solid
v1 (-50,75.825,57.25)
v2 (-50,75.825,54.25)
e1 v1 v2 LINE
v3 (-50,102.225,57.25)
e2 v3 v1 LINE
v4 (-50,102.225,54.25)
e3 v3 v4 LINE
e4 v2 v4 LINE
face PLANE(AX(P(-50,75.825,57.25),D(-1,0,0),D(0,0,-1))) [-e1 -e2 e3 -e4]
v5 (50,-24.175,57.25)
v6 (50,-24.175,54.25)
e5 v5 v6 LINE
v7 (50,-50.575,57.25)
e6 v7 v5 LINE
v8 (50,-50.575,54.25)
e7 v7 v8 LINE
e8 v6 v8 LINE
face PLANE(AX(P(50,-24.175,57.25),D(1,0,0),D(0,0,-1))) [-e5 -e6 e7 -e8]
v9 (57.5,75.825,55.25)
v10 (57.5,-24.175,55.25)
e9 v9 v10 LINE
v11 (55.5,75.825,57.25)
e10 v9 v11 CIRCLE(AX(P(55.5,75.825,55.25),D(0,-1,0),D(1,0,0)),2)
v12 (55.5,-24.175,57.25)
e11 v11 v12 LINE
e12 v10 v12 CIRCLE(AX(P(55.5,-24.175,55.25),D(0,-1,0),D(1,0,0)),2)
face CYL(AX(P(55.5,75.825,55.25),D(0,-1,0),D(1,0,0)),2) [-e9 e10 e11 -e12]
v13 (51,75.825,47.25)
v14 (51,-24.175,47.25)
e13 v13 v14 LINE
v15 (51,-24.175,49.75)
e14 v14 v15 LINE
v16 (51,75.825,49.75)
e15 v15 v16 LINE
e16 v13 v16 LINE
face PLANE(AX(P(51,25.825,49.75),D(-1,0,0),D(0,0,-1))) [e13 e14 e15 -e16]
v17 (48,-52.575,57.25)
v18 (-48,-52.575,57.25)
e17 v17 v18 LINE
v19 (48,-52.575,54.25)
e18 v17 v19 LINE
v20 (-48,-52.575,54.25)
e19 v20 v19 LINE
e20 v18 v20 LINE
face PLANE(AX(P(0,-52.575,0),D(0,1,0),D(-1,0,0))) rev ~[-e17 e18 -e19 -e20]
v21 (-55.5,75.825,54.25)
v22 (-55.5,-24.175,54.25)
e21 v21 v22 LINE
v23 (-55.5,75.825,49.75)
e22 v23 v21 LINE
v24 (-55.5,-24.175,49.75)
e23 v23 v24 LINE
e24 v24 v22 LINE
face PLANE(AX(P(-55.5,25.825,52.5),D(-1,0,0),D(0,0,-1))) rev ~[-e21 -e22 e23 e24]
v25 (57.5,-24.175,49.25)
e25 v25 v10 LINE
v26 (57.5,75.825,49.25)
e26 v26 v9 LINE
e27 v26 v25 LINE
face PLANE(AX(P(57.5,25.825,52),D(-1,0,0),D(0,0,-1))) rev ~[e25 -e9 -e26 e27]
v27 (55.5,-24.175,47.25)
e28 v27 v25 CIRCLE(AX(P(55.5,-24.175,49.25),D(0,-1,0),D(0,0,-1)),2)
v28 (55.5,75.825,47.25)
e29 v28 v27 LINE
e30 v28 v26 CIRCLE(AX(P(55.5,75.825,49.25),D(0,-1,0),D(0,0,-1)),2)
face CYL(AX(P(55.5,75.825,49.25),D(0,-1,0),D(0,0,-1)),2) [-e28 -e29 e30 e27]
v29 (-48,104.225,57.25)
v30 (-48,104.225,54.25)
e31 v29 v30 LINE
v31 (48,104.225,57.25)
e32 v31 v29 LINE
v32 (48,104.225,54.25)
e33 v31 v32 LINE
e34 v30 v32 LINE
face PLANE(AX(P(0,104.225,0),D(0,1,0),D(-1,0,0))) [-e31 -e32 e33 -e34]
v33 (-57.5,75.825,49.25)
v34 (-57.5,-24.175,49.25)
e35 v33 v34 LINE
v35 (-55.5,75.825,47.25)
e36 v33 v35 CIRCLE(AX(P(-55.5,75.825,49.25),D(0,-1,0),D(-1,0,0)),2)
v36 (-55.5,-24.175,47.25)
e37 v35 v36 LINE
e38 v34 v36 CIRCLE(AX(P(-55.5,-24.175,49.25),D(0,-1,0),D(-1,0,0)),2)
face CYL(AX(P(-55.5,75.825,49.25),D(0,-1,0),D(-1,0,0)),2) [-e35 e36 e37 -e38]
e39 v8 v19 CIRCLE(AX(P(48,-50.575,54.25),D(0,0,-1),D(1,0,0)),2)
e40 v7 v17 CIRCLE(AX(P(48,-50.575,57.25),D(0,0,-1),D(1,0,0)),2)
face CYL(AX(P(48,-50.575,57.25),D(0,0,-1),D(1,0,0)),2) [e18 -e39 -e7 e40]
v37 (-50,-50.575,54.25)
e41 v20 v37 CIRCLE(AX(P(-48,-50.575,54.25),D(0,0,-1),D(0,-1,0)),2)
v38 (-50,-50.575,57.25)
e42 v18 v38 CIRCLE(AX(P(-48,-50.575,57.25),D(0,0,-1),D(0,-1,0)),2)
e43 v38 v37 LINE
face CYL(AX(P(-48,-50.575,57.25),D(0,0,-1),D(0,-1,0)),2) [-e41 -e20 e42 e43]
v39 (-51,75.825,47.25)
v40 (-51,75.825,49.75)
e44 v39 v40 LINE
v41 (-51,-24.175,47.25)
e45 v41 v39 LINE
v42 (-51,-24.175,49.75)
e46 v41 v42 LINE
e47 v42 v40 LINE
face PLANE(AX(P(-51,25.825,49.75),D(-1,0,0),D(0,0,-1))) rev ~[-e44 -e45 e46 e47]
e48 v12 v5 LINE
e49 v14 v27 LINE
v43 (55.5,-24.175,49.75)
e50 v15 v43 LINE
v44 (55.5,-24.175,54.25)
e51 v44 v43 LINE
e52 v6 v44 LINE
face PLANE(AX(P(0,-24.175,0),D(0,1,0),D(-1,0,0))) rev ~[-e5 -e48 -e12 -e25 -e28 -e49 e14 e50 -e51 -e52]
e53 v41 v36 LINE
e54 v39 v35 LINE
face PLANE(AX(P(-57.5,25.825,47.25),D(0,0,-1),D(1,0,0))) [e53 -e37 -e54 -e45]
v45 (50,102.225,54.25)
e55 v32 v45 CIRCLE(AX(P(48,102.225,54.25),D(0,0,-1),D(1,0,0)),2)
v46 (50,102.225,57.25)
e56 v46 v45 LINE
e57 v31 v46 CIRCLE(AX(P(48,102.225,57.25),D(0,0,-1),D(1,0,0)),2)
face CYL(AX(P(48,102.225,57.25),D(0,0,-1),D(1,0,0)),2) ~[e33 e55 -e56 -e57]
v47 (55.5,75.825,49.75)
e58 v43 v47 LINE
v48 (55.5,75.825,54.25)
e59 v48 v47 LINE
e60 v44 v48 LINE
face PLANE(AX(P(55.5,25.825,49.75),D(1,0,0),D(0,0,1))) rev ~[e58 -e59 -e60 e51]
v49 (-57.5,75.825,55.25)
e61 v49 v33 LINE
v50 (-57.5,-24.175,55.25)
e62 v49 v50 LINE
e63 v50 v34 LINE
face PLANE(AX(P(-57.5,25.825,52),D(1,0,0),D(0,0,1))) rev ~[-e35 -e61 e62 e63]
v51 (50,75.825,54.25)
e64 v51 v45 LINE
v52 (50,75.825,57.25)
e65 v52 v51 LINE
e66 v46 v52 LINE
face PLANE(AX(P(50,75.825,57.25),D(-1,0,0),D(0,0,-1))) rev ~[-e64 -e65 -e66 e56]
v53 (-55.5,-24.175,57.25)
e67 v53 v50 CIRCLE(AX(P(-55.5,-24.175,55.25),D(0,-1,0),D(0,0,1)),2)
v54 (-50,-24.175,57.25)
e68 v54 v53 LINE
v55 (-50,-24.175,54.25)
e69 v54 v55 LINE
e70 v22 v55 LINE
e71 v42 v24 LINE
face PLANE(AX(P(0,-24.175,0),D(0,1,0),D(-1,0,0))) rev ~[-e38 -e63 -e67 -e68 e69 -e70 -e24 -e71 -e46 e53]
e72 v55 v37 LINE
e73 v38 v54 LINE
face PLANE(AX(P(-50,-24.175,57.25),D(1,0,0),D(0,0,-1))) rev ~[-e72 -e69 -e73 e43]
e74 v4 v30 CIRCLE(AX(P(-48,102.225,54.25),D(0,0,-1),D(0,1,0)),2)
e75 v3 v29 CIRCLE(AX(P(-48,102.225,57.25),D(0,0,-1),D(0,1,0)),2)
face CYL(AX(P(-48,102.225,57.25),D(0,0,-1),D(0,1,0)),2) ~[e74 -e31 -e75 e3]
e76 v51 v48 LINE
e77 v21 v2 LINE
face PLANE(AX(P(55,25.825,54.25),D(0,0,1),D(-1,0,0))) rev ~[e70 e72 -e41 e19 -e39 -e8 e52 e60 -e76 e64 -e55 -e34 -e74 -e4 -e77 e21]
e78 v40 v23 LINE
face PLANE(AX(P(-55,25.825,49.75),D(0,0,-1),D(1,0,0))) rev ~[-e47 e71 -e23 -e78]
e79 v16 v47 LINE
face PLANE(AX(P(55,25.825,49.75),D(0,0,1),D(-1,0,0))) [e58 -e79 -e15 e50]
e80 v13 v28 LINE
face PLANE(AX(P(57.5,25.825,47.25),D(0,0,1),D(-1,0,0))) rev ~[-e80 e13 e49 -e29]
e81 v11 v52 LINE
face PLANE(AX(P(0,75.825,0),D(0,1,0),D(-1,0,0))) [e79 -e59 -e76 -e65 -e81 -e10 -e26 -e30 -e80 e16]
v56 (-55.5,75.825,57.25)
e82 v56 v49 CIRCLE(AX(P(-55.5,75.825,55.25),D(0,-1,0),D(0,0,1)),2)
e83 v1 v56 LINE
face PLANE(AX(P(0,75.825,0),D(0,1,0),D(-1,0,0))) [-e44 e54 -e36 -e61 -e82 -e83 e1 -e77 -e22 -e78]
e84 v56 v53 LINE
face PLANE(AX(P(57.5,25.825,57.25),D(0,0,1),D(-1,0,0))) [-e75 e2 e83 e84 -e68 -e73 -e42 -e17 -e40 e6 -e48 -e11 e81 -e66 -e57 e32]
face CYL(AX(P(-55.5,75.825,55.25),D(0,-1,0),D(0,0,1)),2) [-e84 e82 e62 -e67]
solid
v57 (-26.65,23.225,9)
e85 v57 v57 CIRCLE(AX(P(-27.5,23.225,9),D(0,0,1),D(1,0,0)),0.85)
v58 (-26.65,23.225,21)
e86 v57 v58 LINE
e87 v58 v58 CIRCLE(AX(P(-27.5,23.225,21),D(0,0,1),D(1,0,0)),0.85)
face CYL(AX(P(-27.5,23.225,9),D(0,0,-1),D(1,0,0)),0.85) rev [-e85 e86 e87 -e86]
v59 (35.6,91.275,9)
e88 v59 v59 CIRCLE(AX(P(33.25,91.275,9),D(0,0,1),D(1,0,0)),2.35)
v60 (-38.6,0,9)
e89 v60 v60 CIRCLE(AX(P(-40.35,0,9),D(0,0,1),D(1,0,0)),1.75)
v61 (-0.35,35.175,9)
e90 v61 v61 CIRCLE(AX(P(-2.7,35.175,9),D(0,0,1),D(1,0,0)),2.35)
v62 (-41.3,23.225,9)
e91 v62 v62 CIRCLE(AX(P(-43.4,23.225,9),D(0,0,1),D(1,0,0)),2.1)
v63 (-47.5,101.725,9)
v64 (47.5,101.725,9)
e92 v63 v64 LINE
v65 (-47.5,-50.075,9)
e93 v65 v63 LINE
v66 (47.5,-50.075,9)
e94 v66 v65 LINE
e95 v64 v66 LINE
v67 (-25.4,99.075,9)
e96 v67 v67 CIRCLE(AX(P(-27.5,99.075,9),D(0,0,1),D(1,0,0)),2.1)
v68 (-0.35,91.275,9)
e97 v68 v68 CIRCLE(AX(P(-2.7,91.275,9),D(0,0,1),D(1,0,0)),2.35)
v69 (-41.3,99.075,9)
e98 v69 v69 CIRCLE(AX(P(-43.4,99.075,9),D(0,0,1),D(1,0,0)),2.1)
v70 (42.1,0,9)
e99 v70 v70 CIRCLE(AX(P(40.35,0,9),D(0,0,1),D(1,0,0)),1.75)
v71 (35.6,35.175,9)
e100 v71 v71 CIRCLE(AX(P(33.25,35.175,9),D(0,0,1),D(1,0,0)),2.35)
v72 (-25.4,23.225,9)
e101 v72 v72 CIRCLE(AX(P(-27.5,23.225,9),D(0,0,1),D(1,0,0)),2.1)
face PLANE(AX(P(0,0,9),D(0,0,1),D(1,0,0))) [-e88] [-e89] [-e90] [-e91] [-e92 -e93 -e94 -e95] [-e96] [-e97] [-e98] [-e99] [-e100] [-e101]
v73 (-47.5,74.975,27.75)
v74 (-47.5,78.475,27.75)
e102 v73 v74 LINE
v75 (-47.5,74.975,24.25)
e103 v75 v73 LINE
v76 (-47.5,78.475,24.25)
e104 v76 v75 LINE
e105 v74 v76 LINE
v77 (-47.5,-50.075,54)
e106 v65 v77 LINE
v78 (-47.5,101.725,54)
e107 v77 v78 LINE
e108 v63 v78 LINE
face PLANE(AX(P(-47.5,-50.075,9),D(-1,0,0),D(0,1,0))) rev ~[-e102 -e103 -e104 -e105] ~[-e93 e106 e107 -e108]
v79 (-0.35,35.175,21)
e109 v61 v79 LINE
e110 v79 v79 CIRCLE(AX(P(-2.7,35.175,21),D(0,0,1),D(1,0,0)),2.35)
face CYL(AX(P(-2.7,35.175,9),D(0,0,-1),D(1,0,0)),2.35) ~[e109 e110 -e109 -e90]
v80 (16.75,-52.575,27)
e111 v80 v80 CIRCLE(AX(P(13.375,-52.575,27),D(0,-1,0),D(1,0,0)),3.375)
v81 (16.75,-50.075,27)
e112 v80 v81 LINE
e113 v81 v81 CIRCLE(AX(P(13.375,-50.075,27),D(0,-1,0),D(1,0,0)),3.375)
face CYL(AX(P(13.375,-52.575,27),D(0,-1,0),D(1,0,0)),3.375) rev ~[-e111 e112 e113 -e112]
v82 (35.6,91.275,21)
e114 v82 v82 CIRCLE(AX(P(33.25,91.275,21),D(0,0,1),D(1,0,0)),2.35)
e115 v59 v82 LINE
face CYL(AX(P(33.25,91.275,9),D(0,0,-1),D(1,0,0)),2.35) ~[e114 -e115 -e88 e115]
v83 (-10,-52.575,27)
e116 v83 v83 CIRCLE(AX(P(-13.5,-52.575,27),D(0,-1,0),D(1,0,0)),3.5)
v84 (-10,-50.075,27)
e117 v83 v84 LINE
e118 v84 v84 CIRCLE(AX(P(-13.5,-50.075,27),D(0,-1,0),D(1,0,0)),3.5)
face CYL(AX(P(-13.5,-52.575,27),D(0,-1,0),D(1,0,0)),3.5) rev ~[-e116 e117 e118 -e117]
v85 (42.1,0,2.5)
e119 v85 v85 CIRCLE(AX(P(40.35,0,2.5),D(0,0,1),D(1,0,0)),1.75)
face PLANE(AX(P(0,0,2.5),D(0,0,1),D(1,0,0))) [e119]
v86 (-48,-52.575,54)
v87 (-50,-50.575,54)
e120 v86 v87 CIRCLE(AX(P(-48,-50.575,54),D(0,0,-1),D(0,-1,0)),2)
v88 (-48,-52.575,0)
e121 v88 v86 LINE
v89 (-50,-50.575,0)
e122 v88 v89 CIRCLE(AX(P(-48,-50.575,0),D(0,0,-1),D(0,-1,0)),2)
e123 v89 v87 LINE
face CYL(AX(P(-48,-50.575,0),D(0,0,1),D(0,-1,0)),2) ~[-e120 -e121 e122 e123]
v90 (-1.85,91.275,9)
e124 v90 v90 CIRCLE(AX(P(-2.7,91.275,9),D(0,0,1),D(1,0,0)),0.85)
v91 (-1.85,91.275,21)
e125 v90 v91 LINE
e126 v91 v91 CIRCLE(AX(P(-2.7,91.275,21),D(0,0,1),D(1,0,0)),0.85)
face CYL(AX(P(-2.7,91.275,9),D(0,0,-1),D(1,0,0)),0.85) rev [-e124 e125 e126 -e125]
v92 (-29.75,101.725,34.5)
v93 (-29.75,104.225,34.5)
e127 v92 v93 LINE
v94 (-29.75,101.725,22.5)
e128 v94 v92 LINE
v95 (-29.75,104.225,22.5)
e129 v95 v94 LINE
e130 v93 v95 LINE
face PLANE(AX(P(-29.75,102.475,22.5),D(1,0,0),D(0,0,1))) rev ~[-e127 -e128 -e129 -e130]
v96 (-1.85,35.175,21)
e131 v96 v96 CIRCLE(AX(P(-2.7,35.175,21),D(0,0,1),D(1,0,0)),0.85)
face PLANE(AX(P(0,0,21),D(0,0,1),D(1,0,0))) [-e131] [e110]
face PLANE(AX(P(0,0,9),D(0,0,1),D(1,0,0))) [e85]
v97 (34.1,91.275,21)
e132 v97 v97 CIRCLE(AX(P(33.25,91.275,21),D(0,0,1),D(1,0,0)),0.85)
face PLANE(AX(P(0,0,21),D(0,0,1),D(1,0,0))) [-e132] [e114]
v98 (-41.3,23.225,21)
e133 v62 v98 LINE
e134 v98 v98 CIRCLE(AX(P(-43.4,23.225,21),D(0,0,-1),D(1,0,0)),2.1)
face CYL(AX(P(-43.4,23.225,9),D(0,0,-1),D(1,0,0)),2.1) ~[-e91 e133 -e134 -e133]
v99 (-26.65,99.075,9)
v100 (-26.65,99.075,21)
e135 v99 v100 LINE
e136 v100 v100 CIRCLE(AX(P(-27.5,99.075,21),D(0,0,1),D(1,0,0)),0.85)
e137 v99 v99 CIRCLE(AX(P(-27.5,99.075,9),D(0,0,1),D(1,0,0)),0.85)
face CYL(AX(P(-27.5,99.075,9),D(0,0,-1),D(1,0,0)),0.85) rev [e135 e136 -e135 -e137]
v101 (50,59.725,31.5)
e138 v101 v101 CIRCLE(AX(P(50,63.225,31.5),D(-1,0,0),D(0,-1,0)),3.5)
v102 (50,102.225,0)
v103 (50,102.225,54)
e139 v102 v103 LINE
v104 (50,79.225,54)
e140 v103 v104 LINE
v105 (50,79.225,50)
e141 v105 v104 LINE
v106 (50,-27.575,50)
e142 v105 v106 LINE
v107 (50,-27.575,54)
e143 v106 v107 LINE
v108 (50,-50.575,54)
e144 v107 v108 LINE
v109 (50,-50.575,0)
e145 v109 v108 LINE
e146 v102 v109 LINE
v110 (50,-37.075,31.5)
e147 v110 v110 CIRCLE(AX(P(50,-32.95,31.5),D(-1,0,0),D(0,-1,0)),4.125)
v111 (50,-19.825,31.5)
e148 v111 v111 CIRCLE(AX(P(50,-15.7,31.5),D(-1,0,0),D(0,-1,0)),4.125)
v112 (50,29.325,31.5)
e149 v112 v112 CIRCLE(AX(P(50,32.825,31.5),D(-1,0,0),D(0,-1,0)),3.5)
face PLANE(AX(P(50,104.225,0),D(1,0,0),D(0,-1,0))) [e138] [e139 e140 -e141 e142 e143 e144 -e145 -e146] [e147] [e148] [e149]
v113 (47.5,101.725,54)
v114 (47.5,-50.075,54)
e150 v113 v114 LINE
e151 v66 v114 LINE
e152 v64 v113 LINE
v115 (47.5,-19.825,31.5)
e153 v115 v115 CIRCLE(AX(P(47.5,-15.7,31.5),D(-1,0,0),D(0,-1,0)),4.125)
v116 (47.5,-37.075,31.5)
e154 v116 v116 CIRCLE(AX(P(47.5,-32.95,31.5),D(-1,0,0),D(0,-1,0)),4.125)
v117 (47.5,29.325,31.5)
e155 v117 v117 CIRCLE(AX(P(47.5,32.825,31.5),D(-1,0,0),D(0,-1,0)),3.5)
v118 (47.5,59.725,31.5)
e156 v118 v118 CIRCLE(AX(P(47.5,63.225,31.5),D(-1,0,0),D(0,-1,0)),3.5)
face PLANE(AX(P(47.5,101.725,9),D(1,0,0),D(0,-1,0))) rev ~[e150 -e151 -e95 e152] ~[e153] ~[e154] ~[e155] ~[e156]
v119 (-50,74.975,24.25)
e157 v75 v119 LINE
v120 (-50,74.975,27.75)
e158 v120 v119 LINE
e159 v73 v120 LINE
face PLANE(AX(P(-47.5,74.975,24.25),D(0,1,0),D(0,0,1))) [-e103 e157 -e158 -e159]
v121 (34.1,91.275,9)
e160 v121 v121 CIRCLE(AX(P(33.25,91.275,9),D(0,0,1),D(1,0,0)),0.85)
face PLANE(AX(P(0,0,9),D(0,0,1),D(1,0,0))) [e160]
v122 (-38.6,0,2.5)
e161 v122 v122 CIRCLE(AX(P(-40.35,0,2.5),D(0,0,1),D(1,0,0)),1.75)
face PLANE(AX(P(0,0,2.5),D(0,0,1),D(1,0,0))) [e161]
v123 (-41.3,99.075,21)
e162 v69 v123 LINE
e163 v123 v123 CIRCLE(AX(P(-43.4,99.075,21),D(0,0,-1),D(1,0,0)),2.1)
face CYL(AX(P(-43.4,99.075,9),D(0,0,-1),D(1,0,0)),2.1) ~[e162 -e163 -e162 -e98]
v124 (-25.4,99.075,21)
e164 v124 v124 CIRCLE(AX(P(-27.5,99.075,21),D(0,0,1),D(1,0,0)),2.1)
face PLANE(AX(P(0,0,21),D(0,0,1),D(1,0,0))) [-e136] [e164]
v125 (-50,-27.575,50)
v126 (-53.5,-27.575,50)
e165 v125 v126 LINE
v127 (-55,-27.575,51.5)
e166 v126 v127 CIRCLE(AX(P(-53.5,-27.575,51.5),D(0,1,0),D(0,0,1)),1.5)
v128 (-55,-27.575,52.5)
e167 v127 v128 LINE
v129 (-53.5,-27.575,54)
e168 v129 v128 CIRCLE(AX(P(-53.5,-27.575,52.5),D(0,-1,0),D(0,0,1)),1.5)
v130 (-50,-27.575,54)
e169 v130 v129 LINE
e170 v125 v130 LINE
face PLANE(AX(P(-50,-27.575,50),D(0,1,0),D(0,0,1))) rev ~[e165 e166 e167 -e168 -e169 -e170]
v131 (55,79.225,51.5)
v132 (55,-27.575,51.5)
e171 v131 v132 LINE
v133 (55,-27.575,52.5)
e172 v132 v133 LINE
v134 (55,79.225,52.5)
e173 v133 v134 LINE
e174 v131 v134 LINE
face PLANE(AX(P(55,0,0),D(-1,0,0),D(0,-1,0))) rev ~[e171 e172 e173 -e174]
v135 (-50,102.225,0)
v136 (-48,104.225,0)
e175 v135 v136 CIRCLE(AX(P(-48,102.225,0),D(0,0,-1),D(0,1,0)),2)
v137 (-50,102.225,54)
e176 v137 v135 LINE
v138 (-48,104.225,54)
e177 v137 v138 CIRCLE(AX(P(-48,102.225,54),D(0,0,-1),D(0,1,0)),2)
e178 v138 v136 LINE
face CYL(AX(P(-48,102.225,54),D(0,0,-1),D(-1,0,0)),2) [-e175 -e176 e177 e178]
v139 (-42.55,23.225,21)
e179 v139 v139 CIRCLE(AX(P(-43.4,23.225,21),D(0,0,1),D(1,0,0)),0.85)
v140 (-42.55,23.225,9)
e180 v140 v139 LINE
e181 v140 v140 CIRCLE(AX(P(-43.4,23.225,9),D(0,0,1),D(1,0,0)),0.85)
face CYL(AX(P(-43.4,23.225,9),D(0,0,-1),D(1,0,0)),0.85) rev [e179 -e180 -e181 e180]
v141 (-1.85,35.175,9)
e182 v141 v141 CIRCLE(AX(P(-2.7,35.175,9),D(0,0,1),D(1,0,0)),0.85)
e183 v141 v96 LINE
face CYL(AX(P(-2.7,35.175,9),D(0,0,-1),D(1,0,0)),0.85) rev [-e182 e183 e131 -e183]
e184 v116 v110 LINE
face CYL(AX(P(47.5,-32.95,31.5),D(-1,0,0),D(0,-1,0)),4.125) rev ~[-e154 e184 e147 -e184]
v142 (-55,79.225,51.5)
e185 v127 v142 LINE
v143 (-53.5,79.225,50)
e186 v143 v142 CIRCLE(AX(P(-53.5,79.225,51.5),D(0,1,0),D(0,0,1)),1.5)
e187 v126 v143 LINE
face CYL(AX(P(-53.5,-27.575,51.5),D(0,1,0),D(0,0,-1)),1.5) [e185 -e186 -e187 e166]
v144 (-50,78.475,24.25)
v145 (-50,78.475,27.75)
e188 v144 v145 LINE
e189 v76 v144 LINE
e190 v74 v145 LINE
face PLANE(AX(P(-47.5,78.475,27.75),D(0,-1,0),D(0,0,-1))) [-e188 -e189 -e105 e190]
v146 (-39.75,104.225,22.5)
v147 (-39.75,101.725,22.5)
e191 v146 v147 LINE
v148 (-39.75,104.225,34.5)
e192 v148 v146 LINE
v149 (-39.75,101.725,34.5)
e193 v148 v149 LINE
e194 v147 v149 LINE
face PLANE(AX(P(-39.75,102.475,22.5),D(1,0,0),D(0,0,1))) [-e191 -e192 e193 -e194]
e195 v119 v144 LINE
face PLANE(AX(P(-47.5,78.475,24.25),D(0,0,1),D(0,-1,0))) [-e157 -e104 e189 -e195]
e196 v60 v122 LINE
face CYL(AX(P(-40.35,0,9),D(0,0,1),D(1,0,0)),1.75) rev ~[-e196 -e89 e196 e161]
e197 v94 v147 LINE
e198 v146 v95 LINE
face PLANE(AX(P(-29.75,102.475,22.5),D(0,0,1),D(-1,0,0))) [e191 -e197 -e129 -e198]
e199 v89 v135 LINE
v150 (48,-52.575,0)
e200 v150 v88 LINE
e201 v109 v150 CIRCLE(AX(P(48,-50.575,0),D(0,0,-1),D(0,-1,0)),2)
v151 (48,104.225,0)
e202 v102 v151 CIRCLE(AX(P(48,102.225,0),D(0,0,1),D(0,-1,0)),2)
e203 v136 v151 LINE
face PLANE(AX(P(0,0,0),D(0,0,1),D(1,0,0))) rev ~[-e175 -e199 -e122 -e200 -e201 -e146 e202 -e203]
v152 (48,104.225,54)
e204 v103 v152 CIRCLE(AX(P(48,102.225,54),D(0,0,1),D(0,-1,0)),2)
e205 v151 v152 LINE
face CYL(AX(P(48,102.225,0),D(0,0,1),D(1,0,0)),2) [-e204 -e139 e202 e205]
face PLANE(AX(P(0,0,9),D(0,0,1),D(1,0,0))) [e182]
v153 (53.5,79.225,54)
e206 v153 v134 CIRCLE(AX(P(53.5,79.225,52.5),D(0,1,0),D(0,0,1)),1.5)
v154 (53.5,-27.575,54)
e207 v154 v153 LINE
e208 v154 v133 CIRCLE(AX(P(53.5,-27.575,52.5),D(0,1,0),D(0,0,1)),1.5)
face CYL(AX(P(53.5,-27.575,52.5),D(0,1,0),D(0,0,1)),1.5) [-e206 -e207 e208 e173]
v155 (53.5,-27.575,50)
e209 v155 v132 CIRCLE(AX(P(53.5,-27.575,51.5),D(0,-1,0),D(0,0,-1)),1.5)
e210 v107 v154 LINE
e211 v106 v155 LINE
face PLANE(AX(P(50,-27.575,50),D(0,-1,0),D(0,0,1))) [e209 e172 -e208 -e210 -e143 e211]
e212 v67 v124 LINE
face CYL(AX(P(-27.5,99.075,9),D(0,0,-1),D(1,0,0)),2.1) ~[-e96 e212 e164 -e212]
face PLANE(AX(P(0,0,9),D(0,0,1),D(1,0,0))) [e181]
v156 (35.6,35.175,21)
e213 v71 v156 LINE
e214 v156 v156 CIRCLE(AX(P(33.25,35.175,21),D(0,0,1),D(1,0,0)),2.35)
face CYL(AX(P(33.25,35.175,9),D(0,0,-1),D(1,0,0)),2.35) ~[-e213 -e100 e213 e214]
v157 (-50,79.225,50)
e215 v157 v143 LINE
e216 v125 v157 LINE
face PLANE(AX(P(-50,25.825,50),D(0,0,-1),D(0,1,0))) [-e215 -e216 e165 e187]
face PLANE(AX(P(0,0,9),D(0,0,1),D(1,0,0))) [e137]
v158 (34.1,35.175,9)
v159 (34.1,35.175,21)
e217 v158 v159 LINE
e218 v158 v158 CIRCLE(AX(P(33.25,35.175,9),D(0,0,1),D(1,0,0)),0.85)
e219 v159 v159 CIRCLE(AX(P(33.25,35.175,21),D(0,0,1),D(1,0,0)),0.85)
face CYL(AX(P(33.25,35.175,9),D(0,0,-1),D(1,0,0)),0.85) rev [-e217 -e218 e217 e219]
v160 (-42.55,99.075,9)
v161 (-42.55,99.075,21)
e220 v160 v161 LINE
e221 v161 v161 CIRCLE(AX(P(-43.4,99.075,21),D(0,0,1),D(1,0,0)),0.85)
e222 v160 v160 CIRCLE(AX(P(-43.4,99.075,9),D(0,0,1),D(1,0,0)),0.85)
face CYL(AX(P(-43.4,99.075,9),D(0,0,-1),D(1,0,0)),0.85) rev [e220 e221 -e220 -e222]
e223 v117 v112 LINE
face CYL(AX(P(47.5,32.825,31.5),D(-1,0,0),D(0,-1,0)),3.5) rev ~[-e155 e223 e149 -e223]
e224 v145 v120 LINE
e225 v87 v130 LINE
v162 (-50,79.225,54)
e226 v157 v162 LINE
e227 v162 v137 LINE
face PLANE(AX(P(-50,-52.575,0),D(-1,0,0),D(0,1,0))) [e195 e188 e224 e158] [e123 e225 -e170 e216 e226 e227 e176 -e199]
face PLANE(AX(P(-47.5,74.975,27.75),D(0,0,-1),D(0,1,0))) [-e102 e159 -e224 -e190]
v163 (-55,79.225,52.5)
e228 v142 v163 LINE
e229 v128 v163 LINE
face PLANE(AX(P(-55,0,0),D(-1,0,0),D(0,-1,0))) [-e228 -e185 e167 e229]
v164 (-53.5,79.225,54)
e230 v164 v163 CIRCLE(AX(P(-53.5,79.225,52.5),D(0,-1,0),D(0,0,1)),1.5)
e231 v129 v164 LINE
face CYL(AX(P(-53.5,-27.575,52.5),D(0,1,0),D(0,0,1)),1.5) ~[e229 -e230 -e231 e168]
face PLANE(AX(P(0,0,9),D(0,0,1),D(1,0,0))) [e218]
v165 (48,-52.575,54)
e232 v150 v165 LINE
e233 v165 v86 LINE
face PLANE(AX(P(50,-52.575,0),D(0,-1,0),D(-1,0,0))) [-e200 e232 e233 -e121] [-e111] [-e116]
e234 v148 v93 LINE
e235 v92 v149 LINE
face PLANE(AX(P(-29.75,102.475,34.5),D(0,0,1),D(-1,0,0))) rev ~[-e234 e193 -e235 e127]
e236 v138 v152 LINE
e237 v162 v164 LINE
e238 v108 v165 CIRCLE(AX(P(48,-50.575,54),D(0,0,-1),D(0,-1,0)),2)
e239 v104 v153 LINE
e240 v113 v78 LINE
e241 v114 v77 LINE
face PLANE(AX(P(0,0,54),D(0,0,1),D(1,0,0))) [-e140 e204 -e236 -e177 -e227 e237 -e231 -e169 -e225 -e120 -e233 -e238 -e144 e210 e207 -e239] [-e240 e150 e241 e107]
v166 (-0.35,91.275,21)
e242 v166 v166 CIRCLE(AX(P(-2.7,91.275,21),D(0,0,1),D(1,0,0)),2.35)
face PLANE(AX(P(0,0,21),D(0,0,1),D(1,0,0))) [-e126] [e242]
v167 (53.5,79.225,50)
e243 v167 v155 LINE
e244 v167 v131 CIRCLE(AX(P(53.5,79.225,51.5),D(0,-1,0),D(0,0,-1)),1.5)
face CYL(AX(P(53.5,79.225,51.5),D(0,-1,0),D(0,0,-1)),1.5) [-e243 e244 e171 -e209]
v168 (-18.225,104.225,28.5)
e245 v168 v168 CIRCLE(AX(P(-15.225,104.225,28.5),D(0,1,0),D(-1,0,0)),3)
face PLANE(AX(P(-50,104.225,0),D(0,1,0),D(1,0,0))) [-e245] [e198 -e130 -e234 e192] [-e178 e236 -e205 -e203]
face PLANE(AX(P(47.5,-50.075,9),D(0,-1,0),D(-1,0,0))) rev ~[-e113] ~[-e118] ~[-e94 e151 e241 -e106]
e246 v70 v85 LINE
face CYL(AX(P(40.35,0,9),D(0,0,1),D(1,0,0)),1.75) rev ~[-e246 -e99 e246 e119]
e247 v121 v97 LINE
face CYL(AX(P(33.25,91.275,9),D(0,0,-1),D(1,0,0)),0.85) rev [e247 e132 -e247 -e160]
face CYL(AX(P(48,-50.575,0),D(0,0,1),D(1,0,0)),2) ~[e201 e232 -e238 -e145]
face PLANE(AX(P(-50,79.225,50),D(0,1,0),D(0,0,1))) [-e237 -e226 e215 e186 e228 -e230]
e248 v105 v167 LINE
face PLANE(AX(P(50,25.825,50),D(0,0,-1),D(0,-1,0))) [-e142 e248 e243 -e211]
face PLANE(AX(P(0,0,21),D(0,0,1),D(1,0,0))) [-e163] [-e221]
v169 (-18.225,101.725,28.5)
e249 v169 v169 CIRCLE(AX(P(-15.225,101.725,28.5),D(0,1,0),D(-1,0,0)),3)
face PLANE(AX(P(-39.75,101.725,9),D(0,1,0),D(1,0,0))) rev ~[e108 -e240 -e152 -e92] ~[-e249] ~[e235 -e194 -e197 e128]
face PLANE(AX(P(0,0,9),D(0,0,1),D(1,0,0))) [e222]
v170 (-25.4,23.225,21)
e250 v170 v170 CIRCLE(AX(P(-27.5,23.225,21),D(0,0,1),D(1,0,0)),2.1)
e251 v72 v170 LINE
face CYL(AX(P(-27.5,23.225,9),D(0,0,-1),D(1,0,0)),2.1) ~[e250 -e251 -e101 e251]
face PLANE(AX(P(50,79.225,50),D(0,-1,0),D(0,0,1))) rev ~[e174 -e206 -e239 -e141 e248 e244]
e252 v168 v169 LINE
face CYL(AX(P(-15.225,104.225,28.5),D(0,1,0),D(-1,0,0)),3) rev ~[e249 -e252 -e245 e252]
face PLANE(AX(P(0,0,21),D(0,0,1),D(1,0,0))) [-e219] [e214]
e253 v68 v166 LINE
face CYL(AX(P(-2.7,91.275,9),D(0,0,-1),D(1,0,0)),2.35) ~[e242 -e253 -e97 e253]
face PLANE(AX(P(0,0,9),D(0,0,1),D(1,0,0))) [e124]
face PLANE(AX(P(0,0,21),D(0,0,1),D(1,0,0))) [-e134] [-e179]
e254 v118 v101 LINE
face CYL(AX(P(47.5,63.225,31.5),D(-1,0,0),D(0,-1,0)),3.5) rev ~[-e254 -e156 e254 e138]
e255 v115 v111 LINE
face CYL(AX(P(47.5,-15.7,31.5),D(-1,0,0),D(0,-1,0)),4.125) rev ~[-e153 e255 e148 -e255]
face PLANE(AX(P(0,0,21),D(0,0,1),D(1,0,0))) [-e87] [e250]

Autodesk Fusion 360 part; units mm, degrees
sketch "top" plane through (0, 0, 0) normal (0, 0, 1) x (1, 0, 0)
  line L0 (45.5, -15.075) -> (-45.5, -15.075) construction
  line L1 (-45.5, -15.075) -> (-45.5, 15.075) construction
  line L2 (-45.5, 15.075) -> (45.5, 15.075) construction
  line L3 (45.5, 15.075) -> (45.5, -15.075) construction
  line L4 (45.5, -15.075) -> (-45.5, 15.075) construction
  line L5 (-45.5, -15.075) -> (45.5, 15.075) construction
  line L6 (0, 15.075) -> (0, -15.075) construction
  line L7 (-45.5, 0) -> (45.5, 0) construction
  circle A0 centre (-40.35, 0) radius 2.1 construction
  line L8 (-35.35, 15.075) -> (-35.35, -15.075) construction
  circle A1 centre (40.35, 0) radius 2.1 construction
  line L9 (35.35, 15.075) -> (35.35, -15.075) construction
  line L10 (35.35, 33.075) -> (-4.8, 33.075) construction
  line L11 (-4.8, 33.075) -> (-4.8, 93.375) construction
  line L12 (-4.8, 93.375) -> (35.35, 93.375) construction
  line L13 (35.35, 93.375) -> (35.35, 33.075) construction
  line L14 (-45.5, 21.075) -> (-25.4, 21.075)
  line L15 (-25.4, 21.075) -> (-25.4, 101.225)
  line L16 (-25.4, 101.225) -> (-45.5, 101.225)
  line L17 (-45.5, 101.225) -> (-45.5, 21.075)
  line L18 (-4.8, 63.225) -> (35.35, 63.225) construction
  line L19 (15.275, 93.375) -> (15.275, 33.075) construction
  line L20 (-45.5, 61.15) -> (-25.4, 61.15) construction
  line L21 (-35.45, 101.225) -> (-35.45, 21.075) construction
  circle A2 centre (33.25, 35.175) radius 0.85
  circle A3 centre (33.25, 35.175) radius 2.35
  circle A4 centre (33.25, 91.275) radius 0.85
  circle A5 centre (33.25, 91.275) radius 2.35
  circle A6 centre (-2.7, 35.175) radius 0.85
  circle A7 centre (-2.7, 35.175) radius 2.35
  circle A8 centre (-2.7, 91.275) radius 2.35
  circle A9 centre (-2.7, 91.275) radius 0.85
  circle A10 centre (-27.5, 23.225) radius 0.85
  circle A11 centre (-27.5, 23.225) radius 2.1
  circle A12 centre (-27.5, 99.075) radius 0.85
  circle A13 centre (-27.5, 99.075) radius 2.1
  circle A14 centre (-43.4, 23.225) radius 0.85
  circle A15 centre (-43.4, 23.225) radius 2.1
  circle A16 centre (-43.4, 99.075) radius 0.85
  circle A17 centre (-43.4, 99.075) radius 2.1
  line L22 (-47.5, 101.725) -> (47.5, 101.725)
  line L23 (47.5, 101.725) -> (47.5, -50.075)
  line L24 (47.5, -50.075) -> (-47.5, -50.075)
  line L25 (-47.5, -50.075) -> (-47.5, 101.725)
  line L26 (-39.75, 101.225) -> (-29.75, 101.225)
  line L27 (-29.75, 101.225) -> (-29.75, 102.475)
  line L28 (-29.75, 102.475) -> (-39.75, 102.475)
  line L29 (-39.75, 102.475) -> (-39.75, 101.225)
  line L30 (-34.75, 102.475) -> (-34.75, 101.225) construction
  circle A18 centre (-40.35, 0) radius 1.75
  circle A19 centre (40.35, 0) radius 1.75
  line L31 (-50, -52.575) -> (-50, 104.225)
  line L32 (-50, 104.225) -> (50, 104.225)
  line L33 (50, 104.225) -> (50, -52.575)
  line L34 (50, -52.575) -> (-50, -52.575)
  circle A20 centre (-42.5, 76.725) radius 2.5
  dimension "d1" = 91
  dimension "d2" = 30.15
  dimension "d3" = 4.2
  dimension "d4" = 10.15
  dimension "d5" = 3.05
  dimension "d6" = 40.15
  dimension "d7" = 60.3
  dimension "d8" = 18
  dimension "d9" = 20.1
  dimension "d10" = 80.15
  dimension "d11" = 6
  dimension "d12" = 1.7
  dimension "d13" = 1.25
  dimension "d14" = 1.25
  dimension "d15" = 1.5
  dimension "d16" = 1.7
  dimension "d17" = 1.25
  dimension "d18" = 1.3
  dimension "d19" = 1.25
  dimension "d20" = 2
  dimension "d21" = 1.25
  dimension "d22" = 10
  dimension "d23" = 0.5
  dimension "d24" = 2
  dimension "d25" = 35
  dimension "d35" = -0.35
  dimension "d39" = -2.5
  dimension "d43" = 4.35
  dimension "d61" = 5
  dimension "d62" = 22
  dimension "d63" = 0.5
extrude "Extrude1" add sketch "top" along normal blind 9 contours A11 | A13 | A17 | A15 | L14 L15 L16 L17 L26 | L14 L15 L16 L17 L22 L23 L24 L25 L27 L29 | L16 L22 L26 L27 L29 | L22 L27 L28 L29 | A2 | A3 | A4 | A5 | A6 | A7 | A8 | A9 | A10 | A12 | A14 | A16 | A18 | A19 | L31 L32 L33 L34 | A20 makes body 1
extrude "Extrude2" add sketch "top" along normal blind 12 from surface at 9 contours A11 | A13 | A17 | A15 | A3 | A5 | A7 | A8 bodies 1
extrude "Extrude4" cut sketch "top" against normal blind 6.5 from surface at 9 contours A18 | A19 bodies 1
extrude "Extrude5" add sketch "top" along normal blind 45 from surface at 9 contours L22 L27 L28 L29 | L31 L32 L33 L34 bodies 1
sketch "outputs" plane through (47.5, 0, 0) normal (-1, 0, 0) x (0, -1, 0)
  line L0 (-101.725, 9) -> (50.075, 9)
  line L1 (50.075, 9) -> (50.075, 54)
  line L2 (50.075, 54) -> (-101.725, 54)
  line L3 (-101.725, 54) -> (-101.725, 9)
  line L4 (-32.825, 21) -> (-37.525, 21)
  line L5 (-88.925, 21) -> (-93.625, 21)
  line L6 (-93.625, 21) -> (-93.625, 54) construction
  line L7 (-32.825, 21) -> (-32.825, 54) construction
  line L8 (-93.625, 54) -> (-32.825, 54) construction
  line L9 (-88.925, 21) -> (-37.525, 21) construction
  line L10 (-63.225, 21) -> (-63.225, 54) construction
  circle A0 centre (-63.225, 31.5) radius 3.5
  circle A1 centre (-32.825, 31.5) radius 3.5
  line L11 (50.075, 31.5) -> (-32.825, 31.5) construction
  line L12 (25.825, 24.9389) -> (25.825, 54) construction
  circle A2 centre (32.95, 31.5) radius 4.125
  circle A3 centre (15.7, 31.5) radius 4.125
  line L13 (-32.825, 31.5) -> (-63.225, 31.5) construction
  dimension "d44" = 7
  dimension "d45" = 7
  dimension "d46" = 8.25
  dimension "d47" = 8.25
  dimension "d48" = 6
  dimension "d49" = 3
  dimension "d50" = 13
extrude "Extrude6" cut sketch "outputs" against normal blind 4 contours A0 | A1 | A2 | A3 bodies 1
extrude "Extrude7" add sketch "top" along normal blind 1.5 from surface at 21 separate body contours A11 | A13 | A17 | A15 | L14 L15 L16 L17 L26 | A10 | A12 | A14 | A16 | A20 makes body 2
extrude "Extrude8" add sketch "top" along normal blind 12 from surface at 22.5 contours L16 L22 L26 L27 L29 | L22 L27 L28 L29 bodies 2
extrude "Extrude9" cut 1 faces at (-33.0833, 102.475, 26.5) along direction (0, 1, 0) blind 5 on bodies 2 bodies 1
extrude "Extrude10" add sketch "top" along normal blind 7 from surface at 22.5 contours A20 bodies 2
sketch "side" plane through (-47.5, 0, 0) normal (1, 0, 0) x (0, 1, 0)
  line L0 (-50.075, 9) -> (101.725, 9)
  line L1 (101.725, 9) -> (101.725, 54)
  line L2 (101.725, 54) -> (-50.075, 54)
  line L3 (-50.075, 54) -> (-50.075, 9)
  line L4 (79.225, 29.5) -> (74.225, 29.5)
  line L5 (74.225, 22.5) -> (79.225, 22.5)
  line L6 (76.725, 29.5) -> (76.725, 22.5) construction
  line L7 (74.225, 29.5) -> (74.225, 22.5) construction
  line L8 (79.225, 29.5) -> (79.225, 22.5) construction
  line L9 (74.225, 26) -> (79.225, 26) construction
  line L10 (74.975, 27.75) -> (78.475, 27.75)
  line L11 (78.475, 27.75) -> (78.475, 24.25)
  line L12 (78.475, 24.25) -> (74.975, 24.25)
  line L13 (74.975, 24.25) -> (74.975, 27.75)
  line L14 (74.975, 26) -> (78.475, 26) construction
  line L15 (76.725, 27.75) -> (76.725, 24.25) construction
  point P0 (76.725, 26)
  point P1 (76.725, 26)
  dimension "d67" = 3.5
  dimension "d68" = 3.5
extrude "Extrude11" cut sketch "side" against normal blind 5 contours L10 L11 L12 L13 bodies 1
extrude "Extrude12" cut 1 faces at (-33.0833, 102.475, 26.5) along direction (0, -1, 0) blind 1 on bodies 1 bodies 1
sketch "inputs" plane through (0, -52.575, 0) normal (0, -1, 0) x (1, 0, 0)
  line L0 (-50, 0) -> (50, 0)
  line L1 (50, 0) -> (50, 54)
  line L2 (50, 54) -> (-50, 54)
  line L3 (-50, 54) -> (-50, 0)
  line L4 (47.5, 9) -> (-47.5, 9)
  line L5 (-47.5, 9) -> (-47.5, 54)
  line L6 (-47.5, 54) -> (47.5, 54)
  line L7 (47.5, 54) -> (47.5, 9)
  line L8 (0, 54) -> (0, 9) construction
  line L9 (47.5, 31.5) -> (-47.5, 31.5) construction
  circle A0 centre (13.375, 27) radius 3.375
  circle A1 centre (-13.5, 27) radius 3.5
  line L10 (50, 0) -> (-50, 0)
  line L11 (-35.6219, 54) -> (-35.6219, 0) construction
  line L12 (-35.6219, 27) -> (47.5, 27) construction
  dimension "d73" = 6.75
  dimension "d74" = 7
  dimension "d75" = 10
  dimension "d76" = 10
extrude "Extrude13" cut sketch "inputs" against normal blind 4 contours A0 | A1 bodies 1
sketch "lid_bottom" plane through (-50, 0, 0) normal (-1, 0, 0) x (0, -1, 0)
  line L0 (-78.475, 24.25) -> (-78.475, 27.75)
  line L1 (-78.475, 27.75) -> (-74.975, 27.75)
  line L2 (-74.975, 27.75) -> (-74.975, 24.25)
  line L3 (-74.975, 24.25) -> (-78.475, 24.25)
  line L4 (-104.225, 0) -> (52.575, 0)
  line L5 (52.575, 0) -> (52.575, 54)
  line L6 (52.575, 54) -> (-104.225, 54)
  line L7 (-104.225, 54) -> (-104.225, 0)
  line L8 (-104.225, 54) -> (52.575, 54)
  line L9 (-104.225, 0) -> (-104.225, 54)
  line L10 (52.575, 0) -> (-104.225, 0)
  line L11 (52.575, 0) -> (52.575, 54)
  line L12 (-25.825, 54) -> (-25.825, 0) construction
  line L13 (-25.825, 50) -> (27.575, 50)
  line L14 (27.575, 50) -> (27.575, 54)
  line L15 (-25.825, 50) -> (-79.225, 50)
  line L16 (-79.225, 50) -> (-79.225, 54)
  dimension "d79" = 25
  dimension "d80" = 4
extrude "Extrude14" add sketch "lid_bottom" along normal blind 5 contours L6 L8 L13 L14 L15 L16 bodies 1
extrude "Extrude15" add sketch "lid_bottom" against normal blind 5 from surface at -100 contours L6 L8 L13 L14 L15 L16 bodies 1
fillet "Fillet1" radius 1.5 4 edges at (-55, 25.825, 54) (-55, 25.825, 50) (55, 25.825, 54) (55, 25.825, 50) on bodies 1
sketch "lid_top" plane through (0, 104.225, 0) normal (0, 1, 0) x (-1, 0, 0)
  line L0 (29.75, 22.5) -> (29.75, 34.5)
  line L1 (29.75, 34.5) -> (39.75, 34.5)
  line L2 (39.75, 34.5) -> (39.75, 22.5)
  line L3 (39.75, 22.5) -> (29.75, 22.5)
  line L4 (-50, 0) -> (50, 0)
  line L5 (50, 0) -> (50, 54)
  line L6 (50, 54) -> (-50, 54)
  line L7 (-50, 54) -> (-50, 0)
  line L8 (50, 54) -> (53.5, 54)
  arc A0 (55, 52.5) -> (53.5, 54) centre (53.5, 52.5) ccw
  line L9 (55, 52.5) -> (55, 51.5)
  arc A1 (53.5, 50) -> (55, 51.5) centre (53.5, 51.5) ccw
  line L10 (50, 50) -> (53.5, 50)
  line L11 (50, 50) -> (50, 54)
  line L12 (-50, 54) -> (-53.5, 54)
  arc A2 (-53.5, 54) -> (-55, 52.5) centre (-53.5, 52.5) ccw
  arc A3 (-55, 51.5) -> (-53.5, 50) centre (-53.5, 51.5) ccw
  line L13 (-50, 50) -> (-53.5, 50)
  line L14 (-50, 54) -> (-50, 50)
  line L15 (-55, 51.5) -> (-55, 52.5)
  line L16 (-50, 54) -> (50, 54)
  line L17 (-55, 52) -> (-57.5, 52) construction
  line L18 (-51, 49.75) -> (-51, 47.25)
  line L19 (-57.5, 52) -> (-57.5, 57.25)
  line L20 (-57.5, 52) -> (-57.5, 47.25)
  line L21 (-57.5, 47.25) -> (-51, 47.25)
  line L22 (0, 54) -> (0, 70) construction
  line L23 (0, 54) -> (0, 39) construction
  line L24 (-55, 49.75) -> (-55, 54.25)
  line L25 (-57.5, 57.25) -> (0, 57.25)
  line L26 (-55, 54.25) -> (0, 54.25)
  line L27 (-55, 49.75) -> (-51, 49.75)
  line L28 (57.5, 57.25) -> (0, 57.25)
  line L29 (55, 54.25) -> (0, 54.25)
  line L30 (57.5, 52) -> (57.5, 57.25)
  line L31 (55, 49.75) -> (55, 54.25)
  line L32 (57.5, 52) -> (57.5, 47.25)
  line L33 (57.5, 47.25) -> (51, 47.25)
  line L34 (51, 49.75) -> (51, 47.25)
  line L35 (55, 49.75) -> (51, 49.75)
  line L36 (50, 57.25) -> (50, 54.25)
  line L37 (-50, 57.25) -> (-50, 54.25)
  line L38 (45.5, 21) -> (41.3, 21)
  line L39 (29.6, 21) -> (25.4, 21)
  line L40 (5.05, 21) -> (0.35, 21)
  line L41 (-30.9, 21) -> (-35.6, 21)
  line L42 (5.05, 21) -> (25.4, 21) construction
  line L43 (39.75, 22.5) -> (39.75, 34.5)
  line L44 (39.75, 34.5) -> (29.75, 34.5)
  line L45 (29.75, 34.5) -> (29.75, 22.5)
  line L46 (29.75, 22.5) -> (39.75, 22.5)
  line L47 (29.75, 28.5) -> (0, 28.5) construction
  line L48 (15.225, 21) -> (15.225, 28.5) construction
  circle A4 centre (15.225, 28.5) radius 3
  dimension "d88" = 2.5
  dimension "d90" = 2.5
  dimension "d91" = 2.5
  dimension "d92" = 1
  dimension "d94" = 0.25
  dimension "d95" = 3
  dimension "d96" = 4.5
  dimension "d108" = 7.5
  dimension "d119" = 6
ref_plane "WorkPlane1" through (0, 25.825, 27) normal (0, -1, 0) x (1, 0, 0)
extrude "Extrude17" add sketch "lid_top" along normal blind 50 and the other way blind 50 from surface at -78.4 separate body contours L15 L18 L19 L20 L21 L24 L25 L26 L27 L37 | L9 L28 L29 L30 L31 L32 L33 L34 L35 L36 | L25 L26 L28 L29 L36 L37 makes body 3
extrude "Extrude18" add sketch "lid_top" against normal up to surface (28.4 mm away) from surface at -128.4 contours L25 L26 L28 L29 L36 L37 bodies 3
extrude "Extrude19" add sketch "lid_top" along normal up to surface (28.4 mm away) from surface at -28.4 contours L25 L26 L28 L29 L36 L37 bodies 3
fillet "Fillet4" radius 2 4 edges at (57.5, 25.825, 57.25) (57.5, 25.825, 47.25) (-57.5, 25.825, 47.25) (-57.5, 25.825, 57.25) on bodies 3
fillet "Fillet5" radius 2 8 edges at (50, 104.225, 27) (-50, 104.225, 27) (-50, -52.575, 27) (50, -52.575, 27) (50, 104.225, 55.75) (-50, 104.225, 55.75) (-50, -52.575, 55.75) (50, -52.575, 55.75) on bodies 1 3
extrude "Extrude20" cut sketch "lid_top" against normal blind 4 contours A4 bodies 1
move_face "OffsetFaces1" offset -0.5 1 faces at (55, 9.1583, 51.25) on bodies 3
move_face "OffsetFaces2" offset -0.5 1 faces at (-55, 9.1583, 52.75) on bodies 3
hidden bodies 2
